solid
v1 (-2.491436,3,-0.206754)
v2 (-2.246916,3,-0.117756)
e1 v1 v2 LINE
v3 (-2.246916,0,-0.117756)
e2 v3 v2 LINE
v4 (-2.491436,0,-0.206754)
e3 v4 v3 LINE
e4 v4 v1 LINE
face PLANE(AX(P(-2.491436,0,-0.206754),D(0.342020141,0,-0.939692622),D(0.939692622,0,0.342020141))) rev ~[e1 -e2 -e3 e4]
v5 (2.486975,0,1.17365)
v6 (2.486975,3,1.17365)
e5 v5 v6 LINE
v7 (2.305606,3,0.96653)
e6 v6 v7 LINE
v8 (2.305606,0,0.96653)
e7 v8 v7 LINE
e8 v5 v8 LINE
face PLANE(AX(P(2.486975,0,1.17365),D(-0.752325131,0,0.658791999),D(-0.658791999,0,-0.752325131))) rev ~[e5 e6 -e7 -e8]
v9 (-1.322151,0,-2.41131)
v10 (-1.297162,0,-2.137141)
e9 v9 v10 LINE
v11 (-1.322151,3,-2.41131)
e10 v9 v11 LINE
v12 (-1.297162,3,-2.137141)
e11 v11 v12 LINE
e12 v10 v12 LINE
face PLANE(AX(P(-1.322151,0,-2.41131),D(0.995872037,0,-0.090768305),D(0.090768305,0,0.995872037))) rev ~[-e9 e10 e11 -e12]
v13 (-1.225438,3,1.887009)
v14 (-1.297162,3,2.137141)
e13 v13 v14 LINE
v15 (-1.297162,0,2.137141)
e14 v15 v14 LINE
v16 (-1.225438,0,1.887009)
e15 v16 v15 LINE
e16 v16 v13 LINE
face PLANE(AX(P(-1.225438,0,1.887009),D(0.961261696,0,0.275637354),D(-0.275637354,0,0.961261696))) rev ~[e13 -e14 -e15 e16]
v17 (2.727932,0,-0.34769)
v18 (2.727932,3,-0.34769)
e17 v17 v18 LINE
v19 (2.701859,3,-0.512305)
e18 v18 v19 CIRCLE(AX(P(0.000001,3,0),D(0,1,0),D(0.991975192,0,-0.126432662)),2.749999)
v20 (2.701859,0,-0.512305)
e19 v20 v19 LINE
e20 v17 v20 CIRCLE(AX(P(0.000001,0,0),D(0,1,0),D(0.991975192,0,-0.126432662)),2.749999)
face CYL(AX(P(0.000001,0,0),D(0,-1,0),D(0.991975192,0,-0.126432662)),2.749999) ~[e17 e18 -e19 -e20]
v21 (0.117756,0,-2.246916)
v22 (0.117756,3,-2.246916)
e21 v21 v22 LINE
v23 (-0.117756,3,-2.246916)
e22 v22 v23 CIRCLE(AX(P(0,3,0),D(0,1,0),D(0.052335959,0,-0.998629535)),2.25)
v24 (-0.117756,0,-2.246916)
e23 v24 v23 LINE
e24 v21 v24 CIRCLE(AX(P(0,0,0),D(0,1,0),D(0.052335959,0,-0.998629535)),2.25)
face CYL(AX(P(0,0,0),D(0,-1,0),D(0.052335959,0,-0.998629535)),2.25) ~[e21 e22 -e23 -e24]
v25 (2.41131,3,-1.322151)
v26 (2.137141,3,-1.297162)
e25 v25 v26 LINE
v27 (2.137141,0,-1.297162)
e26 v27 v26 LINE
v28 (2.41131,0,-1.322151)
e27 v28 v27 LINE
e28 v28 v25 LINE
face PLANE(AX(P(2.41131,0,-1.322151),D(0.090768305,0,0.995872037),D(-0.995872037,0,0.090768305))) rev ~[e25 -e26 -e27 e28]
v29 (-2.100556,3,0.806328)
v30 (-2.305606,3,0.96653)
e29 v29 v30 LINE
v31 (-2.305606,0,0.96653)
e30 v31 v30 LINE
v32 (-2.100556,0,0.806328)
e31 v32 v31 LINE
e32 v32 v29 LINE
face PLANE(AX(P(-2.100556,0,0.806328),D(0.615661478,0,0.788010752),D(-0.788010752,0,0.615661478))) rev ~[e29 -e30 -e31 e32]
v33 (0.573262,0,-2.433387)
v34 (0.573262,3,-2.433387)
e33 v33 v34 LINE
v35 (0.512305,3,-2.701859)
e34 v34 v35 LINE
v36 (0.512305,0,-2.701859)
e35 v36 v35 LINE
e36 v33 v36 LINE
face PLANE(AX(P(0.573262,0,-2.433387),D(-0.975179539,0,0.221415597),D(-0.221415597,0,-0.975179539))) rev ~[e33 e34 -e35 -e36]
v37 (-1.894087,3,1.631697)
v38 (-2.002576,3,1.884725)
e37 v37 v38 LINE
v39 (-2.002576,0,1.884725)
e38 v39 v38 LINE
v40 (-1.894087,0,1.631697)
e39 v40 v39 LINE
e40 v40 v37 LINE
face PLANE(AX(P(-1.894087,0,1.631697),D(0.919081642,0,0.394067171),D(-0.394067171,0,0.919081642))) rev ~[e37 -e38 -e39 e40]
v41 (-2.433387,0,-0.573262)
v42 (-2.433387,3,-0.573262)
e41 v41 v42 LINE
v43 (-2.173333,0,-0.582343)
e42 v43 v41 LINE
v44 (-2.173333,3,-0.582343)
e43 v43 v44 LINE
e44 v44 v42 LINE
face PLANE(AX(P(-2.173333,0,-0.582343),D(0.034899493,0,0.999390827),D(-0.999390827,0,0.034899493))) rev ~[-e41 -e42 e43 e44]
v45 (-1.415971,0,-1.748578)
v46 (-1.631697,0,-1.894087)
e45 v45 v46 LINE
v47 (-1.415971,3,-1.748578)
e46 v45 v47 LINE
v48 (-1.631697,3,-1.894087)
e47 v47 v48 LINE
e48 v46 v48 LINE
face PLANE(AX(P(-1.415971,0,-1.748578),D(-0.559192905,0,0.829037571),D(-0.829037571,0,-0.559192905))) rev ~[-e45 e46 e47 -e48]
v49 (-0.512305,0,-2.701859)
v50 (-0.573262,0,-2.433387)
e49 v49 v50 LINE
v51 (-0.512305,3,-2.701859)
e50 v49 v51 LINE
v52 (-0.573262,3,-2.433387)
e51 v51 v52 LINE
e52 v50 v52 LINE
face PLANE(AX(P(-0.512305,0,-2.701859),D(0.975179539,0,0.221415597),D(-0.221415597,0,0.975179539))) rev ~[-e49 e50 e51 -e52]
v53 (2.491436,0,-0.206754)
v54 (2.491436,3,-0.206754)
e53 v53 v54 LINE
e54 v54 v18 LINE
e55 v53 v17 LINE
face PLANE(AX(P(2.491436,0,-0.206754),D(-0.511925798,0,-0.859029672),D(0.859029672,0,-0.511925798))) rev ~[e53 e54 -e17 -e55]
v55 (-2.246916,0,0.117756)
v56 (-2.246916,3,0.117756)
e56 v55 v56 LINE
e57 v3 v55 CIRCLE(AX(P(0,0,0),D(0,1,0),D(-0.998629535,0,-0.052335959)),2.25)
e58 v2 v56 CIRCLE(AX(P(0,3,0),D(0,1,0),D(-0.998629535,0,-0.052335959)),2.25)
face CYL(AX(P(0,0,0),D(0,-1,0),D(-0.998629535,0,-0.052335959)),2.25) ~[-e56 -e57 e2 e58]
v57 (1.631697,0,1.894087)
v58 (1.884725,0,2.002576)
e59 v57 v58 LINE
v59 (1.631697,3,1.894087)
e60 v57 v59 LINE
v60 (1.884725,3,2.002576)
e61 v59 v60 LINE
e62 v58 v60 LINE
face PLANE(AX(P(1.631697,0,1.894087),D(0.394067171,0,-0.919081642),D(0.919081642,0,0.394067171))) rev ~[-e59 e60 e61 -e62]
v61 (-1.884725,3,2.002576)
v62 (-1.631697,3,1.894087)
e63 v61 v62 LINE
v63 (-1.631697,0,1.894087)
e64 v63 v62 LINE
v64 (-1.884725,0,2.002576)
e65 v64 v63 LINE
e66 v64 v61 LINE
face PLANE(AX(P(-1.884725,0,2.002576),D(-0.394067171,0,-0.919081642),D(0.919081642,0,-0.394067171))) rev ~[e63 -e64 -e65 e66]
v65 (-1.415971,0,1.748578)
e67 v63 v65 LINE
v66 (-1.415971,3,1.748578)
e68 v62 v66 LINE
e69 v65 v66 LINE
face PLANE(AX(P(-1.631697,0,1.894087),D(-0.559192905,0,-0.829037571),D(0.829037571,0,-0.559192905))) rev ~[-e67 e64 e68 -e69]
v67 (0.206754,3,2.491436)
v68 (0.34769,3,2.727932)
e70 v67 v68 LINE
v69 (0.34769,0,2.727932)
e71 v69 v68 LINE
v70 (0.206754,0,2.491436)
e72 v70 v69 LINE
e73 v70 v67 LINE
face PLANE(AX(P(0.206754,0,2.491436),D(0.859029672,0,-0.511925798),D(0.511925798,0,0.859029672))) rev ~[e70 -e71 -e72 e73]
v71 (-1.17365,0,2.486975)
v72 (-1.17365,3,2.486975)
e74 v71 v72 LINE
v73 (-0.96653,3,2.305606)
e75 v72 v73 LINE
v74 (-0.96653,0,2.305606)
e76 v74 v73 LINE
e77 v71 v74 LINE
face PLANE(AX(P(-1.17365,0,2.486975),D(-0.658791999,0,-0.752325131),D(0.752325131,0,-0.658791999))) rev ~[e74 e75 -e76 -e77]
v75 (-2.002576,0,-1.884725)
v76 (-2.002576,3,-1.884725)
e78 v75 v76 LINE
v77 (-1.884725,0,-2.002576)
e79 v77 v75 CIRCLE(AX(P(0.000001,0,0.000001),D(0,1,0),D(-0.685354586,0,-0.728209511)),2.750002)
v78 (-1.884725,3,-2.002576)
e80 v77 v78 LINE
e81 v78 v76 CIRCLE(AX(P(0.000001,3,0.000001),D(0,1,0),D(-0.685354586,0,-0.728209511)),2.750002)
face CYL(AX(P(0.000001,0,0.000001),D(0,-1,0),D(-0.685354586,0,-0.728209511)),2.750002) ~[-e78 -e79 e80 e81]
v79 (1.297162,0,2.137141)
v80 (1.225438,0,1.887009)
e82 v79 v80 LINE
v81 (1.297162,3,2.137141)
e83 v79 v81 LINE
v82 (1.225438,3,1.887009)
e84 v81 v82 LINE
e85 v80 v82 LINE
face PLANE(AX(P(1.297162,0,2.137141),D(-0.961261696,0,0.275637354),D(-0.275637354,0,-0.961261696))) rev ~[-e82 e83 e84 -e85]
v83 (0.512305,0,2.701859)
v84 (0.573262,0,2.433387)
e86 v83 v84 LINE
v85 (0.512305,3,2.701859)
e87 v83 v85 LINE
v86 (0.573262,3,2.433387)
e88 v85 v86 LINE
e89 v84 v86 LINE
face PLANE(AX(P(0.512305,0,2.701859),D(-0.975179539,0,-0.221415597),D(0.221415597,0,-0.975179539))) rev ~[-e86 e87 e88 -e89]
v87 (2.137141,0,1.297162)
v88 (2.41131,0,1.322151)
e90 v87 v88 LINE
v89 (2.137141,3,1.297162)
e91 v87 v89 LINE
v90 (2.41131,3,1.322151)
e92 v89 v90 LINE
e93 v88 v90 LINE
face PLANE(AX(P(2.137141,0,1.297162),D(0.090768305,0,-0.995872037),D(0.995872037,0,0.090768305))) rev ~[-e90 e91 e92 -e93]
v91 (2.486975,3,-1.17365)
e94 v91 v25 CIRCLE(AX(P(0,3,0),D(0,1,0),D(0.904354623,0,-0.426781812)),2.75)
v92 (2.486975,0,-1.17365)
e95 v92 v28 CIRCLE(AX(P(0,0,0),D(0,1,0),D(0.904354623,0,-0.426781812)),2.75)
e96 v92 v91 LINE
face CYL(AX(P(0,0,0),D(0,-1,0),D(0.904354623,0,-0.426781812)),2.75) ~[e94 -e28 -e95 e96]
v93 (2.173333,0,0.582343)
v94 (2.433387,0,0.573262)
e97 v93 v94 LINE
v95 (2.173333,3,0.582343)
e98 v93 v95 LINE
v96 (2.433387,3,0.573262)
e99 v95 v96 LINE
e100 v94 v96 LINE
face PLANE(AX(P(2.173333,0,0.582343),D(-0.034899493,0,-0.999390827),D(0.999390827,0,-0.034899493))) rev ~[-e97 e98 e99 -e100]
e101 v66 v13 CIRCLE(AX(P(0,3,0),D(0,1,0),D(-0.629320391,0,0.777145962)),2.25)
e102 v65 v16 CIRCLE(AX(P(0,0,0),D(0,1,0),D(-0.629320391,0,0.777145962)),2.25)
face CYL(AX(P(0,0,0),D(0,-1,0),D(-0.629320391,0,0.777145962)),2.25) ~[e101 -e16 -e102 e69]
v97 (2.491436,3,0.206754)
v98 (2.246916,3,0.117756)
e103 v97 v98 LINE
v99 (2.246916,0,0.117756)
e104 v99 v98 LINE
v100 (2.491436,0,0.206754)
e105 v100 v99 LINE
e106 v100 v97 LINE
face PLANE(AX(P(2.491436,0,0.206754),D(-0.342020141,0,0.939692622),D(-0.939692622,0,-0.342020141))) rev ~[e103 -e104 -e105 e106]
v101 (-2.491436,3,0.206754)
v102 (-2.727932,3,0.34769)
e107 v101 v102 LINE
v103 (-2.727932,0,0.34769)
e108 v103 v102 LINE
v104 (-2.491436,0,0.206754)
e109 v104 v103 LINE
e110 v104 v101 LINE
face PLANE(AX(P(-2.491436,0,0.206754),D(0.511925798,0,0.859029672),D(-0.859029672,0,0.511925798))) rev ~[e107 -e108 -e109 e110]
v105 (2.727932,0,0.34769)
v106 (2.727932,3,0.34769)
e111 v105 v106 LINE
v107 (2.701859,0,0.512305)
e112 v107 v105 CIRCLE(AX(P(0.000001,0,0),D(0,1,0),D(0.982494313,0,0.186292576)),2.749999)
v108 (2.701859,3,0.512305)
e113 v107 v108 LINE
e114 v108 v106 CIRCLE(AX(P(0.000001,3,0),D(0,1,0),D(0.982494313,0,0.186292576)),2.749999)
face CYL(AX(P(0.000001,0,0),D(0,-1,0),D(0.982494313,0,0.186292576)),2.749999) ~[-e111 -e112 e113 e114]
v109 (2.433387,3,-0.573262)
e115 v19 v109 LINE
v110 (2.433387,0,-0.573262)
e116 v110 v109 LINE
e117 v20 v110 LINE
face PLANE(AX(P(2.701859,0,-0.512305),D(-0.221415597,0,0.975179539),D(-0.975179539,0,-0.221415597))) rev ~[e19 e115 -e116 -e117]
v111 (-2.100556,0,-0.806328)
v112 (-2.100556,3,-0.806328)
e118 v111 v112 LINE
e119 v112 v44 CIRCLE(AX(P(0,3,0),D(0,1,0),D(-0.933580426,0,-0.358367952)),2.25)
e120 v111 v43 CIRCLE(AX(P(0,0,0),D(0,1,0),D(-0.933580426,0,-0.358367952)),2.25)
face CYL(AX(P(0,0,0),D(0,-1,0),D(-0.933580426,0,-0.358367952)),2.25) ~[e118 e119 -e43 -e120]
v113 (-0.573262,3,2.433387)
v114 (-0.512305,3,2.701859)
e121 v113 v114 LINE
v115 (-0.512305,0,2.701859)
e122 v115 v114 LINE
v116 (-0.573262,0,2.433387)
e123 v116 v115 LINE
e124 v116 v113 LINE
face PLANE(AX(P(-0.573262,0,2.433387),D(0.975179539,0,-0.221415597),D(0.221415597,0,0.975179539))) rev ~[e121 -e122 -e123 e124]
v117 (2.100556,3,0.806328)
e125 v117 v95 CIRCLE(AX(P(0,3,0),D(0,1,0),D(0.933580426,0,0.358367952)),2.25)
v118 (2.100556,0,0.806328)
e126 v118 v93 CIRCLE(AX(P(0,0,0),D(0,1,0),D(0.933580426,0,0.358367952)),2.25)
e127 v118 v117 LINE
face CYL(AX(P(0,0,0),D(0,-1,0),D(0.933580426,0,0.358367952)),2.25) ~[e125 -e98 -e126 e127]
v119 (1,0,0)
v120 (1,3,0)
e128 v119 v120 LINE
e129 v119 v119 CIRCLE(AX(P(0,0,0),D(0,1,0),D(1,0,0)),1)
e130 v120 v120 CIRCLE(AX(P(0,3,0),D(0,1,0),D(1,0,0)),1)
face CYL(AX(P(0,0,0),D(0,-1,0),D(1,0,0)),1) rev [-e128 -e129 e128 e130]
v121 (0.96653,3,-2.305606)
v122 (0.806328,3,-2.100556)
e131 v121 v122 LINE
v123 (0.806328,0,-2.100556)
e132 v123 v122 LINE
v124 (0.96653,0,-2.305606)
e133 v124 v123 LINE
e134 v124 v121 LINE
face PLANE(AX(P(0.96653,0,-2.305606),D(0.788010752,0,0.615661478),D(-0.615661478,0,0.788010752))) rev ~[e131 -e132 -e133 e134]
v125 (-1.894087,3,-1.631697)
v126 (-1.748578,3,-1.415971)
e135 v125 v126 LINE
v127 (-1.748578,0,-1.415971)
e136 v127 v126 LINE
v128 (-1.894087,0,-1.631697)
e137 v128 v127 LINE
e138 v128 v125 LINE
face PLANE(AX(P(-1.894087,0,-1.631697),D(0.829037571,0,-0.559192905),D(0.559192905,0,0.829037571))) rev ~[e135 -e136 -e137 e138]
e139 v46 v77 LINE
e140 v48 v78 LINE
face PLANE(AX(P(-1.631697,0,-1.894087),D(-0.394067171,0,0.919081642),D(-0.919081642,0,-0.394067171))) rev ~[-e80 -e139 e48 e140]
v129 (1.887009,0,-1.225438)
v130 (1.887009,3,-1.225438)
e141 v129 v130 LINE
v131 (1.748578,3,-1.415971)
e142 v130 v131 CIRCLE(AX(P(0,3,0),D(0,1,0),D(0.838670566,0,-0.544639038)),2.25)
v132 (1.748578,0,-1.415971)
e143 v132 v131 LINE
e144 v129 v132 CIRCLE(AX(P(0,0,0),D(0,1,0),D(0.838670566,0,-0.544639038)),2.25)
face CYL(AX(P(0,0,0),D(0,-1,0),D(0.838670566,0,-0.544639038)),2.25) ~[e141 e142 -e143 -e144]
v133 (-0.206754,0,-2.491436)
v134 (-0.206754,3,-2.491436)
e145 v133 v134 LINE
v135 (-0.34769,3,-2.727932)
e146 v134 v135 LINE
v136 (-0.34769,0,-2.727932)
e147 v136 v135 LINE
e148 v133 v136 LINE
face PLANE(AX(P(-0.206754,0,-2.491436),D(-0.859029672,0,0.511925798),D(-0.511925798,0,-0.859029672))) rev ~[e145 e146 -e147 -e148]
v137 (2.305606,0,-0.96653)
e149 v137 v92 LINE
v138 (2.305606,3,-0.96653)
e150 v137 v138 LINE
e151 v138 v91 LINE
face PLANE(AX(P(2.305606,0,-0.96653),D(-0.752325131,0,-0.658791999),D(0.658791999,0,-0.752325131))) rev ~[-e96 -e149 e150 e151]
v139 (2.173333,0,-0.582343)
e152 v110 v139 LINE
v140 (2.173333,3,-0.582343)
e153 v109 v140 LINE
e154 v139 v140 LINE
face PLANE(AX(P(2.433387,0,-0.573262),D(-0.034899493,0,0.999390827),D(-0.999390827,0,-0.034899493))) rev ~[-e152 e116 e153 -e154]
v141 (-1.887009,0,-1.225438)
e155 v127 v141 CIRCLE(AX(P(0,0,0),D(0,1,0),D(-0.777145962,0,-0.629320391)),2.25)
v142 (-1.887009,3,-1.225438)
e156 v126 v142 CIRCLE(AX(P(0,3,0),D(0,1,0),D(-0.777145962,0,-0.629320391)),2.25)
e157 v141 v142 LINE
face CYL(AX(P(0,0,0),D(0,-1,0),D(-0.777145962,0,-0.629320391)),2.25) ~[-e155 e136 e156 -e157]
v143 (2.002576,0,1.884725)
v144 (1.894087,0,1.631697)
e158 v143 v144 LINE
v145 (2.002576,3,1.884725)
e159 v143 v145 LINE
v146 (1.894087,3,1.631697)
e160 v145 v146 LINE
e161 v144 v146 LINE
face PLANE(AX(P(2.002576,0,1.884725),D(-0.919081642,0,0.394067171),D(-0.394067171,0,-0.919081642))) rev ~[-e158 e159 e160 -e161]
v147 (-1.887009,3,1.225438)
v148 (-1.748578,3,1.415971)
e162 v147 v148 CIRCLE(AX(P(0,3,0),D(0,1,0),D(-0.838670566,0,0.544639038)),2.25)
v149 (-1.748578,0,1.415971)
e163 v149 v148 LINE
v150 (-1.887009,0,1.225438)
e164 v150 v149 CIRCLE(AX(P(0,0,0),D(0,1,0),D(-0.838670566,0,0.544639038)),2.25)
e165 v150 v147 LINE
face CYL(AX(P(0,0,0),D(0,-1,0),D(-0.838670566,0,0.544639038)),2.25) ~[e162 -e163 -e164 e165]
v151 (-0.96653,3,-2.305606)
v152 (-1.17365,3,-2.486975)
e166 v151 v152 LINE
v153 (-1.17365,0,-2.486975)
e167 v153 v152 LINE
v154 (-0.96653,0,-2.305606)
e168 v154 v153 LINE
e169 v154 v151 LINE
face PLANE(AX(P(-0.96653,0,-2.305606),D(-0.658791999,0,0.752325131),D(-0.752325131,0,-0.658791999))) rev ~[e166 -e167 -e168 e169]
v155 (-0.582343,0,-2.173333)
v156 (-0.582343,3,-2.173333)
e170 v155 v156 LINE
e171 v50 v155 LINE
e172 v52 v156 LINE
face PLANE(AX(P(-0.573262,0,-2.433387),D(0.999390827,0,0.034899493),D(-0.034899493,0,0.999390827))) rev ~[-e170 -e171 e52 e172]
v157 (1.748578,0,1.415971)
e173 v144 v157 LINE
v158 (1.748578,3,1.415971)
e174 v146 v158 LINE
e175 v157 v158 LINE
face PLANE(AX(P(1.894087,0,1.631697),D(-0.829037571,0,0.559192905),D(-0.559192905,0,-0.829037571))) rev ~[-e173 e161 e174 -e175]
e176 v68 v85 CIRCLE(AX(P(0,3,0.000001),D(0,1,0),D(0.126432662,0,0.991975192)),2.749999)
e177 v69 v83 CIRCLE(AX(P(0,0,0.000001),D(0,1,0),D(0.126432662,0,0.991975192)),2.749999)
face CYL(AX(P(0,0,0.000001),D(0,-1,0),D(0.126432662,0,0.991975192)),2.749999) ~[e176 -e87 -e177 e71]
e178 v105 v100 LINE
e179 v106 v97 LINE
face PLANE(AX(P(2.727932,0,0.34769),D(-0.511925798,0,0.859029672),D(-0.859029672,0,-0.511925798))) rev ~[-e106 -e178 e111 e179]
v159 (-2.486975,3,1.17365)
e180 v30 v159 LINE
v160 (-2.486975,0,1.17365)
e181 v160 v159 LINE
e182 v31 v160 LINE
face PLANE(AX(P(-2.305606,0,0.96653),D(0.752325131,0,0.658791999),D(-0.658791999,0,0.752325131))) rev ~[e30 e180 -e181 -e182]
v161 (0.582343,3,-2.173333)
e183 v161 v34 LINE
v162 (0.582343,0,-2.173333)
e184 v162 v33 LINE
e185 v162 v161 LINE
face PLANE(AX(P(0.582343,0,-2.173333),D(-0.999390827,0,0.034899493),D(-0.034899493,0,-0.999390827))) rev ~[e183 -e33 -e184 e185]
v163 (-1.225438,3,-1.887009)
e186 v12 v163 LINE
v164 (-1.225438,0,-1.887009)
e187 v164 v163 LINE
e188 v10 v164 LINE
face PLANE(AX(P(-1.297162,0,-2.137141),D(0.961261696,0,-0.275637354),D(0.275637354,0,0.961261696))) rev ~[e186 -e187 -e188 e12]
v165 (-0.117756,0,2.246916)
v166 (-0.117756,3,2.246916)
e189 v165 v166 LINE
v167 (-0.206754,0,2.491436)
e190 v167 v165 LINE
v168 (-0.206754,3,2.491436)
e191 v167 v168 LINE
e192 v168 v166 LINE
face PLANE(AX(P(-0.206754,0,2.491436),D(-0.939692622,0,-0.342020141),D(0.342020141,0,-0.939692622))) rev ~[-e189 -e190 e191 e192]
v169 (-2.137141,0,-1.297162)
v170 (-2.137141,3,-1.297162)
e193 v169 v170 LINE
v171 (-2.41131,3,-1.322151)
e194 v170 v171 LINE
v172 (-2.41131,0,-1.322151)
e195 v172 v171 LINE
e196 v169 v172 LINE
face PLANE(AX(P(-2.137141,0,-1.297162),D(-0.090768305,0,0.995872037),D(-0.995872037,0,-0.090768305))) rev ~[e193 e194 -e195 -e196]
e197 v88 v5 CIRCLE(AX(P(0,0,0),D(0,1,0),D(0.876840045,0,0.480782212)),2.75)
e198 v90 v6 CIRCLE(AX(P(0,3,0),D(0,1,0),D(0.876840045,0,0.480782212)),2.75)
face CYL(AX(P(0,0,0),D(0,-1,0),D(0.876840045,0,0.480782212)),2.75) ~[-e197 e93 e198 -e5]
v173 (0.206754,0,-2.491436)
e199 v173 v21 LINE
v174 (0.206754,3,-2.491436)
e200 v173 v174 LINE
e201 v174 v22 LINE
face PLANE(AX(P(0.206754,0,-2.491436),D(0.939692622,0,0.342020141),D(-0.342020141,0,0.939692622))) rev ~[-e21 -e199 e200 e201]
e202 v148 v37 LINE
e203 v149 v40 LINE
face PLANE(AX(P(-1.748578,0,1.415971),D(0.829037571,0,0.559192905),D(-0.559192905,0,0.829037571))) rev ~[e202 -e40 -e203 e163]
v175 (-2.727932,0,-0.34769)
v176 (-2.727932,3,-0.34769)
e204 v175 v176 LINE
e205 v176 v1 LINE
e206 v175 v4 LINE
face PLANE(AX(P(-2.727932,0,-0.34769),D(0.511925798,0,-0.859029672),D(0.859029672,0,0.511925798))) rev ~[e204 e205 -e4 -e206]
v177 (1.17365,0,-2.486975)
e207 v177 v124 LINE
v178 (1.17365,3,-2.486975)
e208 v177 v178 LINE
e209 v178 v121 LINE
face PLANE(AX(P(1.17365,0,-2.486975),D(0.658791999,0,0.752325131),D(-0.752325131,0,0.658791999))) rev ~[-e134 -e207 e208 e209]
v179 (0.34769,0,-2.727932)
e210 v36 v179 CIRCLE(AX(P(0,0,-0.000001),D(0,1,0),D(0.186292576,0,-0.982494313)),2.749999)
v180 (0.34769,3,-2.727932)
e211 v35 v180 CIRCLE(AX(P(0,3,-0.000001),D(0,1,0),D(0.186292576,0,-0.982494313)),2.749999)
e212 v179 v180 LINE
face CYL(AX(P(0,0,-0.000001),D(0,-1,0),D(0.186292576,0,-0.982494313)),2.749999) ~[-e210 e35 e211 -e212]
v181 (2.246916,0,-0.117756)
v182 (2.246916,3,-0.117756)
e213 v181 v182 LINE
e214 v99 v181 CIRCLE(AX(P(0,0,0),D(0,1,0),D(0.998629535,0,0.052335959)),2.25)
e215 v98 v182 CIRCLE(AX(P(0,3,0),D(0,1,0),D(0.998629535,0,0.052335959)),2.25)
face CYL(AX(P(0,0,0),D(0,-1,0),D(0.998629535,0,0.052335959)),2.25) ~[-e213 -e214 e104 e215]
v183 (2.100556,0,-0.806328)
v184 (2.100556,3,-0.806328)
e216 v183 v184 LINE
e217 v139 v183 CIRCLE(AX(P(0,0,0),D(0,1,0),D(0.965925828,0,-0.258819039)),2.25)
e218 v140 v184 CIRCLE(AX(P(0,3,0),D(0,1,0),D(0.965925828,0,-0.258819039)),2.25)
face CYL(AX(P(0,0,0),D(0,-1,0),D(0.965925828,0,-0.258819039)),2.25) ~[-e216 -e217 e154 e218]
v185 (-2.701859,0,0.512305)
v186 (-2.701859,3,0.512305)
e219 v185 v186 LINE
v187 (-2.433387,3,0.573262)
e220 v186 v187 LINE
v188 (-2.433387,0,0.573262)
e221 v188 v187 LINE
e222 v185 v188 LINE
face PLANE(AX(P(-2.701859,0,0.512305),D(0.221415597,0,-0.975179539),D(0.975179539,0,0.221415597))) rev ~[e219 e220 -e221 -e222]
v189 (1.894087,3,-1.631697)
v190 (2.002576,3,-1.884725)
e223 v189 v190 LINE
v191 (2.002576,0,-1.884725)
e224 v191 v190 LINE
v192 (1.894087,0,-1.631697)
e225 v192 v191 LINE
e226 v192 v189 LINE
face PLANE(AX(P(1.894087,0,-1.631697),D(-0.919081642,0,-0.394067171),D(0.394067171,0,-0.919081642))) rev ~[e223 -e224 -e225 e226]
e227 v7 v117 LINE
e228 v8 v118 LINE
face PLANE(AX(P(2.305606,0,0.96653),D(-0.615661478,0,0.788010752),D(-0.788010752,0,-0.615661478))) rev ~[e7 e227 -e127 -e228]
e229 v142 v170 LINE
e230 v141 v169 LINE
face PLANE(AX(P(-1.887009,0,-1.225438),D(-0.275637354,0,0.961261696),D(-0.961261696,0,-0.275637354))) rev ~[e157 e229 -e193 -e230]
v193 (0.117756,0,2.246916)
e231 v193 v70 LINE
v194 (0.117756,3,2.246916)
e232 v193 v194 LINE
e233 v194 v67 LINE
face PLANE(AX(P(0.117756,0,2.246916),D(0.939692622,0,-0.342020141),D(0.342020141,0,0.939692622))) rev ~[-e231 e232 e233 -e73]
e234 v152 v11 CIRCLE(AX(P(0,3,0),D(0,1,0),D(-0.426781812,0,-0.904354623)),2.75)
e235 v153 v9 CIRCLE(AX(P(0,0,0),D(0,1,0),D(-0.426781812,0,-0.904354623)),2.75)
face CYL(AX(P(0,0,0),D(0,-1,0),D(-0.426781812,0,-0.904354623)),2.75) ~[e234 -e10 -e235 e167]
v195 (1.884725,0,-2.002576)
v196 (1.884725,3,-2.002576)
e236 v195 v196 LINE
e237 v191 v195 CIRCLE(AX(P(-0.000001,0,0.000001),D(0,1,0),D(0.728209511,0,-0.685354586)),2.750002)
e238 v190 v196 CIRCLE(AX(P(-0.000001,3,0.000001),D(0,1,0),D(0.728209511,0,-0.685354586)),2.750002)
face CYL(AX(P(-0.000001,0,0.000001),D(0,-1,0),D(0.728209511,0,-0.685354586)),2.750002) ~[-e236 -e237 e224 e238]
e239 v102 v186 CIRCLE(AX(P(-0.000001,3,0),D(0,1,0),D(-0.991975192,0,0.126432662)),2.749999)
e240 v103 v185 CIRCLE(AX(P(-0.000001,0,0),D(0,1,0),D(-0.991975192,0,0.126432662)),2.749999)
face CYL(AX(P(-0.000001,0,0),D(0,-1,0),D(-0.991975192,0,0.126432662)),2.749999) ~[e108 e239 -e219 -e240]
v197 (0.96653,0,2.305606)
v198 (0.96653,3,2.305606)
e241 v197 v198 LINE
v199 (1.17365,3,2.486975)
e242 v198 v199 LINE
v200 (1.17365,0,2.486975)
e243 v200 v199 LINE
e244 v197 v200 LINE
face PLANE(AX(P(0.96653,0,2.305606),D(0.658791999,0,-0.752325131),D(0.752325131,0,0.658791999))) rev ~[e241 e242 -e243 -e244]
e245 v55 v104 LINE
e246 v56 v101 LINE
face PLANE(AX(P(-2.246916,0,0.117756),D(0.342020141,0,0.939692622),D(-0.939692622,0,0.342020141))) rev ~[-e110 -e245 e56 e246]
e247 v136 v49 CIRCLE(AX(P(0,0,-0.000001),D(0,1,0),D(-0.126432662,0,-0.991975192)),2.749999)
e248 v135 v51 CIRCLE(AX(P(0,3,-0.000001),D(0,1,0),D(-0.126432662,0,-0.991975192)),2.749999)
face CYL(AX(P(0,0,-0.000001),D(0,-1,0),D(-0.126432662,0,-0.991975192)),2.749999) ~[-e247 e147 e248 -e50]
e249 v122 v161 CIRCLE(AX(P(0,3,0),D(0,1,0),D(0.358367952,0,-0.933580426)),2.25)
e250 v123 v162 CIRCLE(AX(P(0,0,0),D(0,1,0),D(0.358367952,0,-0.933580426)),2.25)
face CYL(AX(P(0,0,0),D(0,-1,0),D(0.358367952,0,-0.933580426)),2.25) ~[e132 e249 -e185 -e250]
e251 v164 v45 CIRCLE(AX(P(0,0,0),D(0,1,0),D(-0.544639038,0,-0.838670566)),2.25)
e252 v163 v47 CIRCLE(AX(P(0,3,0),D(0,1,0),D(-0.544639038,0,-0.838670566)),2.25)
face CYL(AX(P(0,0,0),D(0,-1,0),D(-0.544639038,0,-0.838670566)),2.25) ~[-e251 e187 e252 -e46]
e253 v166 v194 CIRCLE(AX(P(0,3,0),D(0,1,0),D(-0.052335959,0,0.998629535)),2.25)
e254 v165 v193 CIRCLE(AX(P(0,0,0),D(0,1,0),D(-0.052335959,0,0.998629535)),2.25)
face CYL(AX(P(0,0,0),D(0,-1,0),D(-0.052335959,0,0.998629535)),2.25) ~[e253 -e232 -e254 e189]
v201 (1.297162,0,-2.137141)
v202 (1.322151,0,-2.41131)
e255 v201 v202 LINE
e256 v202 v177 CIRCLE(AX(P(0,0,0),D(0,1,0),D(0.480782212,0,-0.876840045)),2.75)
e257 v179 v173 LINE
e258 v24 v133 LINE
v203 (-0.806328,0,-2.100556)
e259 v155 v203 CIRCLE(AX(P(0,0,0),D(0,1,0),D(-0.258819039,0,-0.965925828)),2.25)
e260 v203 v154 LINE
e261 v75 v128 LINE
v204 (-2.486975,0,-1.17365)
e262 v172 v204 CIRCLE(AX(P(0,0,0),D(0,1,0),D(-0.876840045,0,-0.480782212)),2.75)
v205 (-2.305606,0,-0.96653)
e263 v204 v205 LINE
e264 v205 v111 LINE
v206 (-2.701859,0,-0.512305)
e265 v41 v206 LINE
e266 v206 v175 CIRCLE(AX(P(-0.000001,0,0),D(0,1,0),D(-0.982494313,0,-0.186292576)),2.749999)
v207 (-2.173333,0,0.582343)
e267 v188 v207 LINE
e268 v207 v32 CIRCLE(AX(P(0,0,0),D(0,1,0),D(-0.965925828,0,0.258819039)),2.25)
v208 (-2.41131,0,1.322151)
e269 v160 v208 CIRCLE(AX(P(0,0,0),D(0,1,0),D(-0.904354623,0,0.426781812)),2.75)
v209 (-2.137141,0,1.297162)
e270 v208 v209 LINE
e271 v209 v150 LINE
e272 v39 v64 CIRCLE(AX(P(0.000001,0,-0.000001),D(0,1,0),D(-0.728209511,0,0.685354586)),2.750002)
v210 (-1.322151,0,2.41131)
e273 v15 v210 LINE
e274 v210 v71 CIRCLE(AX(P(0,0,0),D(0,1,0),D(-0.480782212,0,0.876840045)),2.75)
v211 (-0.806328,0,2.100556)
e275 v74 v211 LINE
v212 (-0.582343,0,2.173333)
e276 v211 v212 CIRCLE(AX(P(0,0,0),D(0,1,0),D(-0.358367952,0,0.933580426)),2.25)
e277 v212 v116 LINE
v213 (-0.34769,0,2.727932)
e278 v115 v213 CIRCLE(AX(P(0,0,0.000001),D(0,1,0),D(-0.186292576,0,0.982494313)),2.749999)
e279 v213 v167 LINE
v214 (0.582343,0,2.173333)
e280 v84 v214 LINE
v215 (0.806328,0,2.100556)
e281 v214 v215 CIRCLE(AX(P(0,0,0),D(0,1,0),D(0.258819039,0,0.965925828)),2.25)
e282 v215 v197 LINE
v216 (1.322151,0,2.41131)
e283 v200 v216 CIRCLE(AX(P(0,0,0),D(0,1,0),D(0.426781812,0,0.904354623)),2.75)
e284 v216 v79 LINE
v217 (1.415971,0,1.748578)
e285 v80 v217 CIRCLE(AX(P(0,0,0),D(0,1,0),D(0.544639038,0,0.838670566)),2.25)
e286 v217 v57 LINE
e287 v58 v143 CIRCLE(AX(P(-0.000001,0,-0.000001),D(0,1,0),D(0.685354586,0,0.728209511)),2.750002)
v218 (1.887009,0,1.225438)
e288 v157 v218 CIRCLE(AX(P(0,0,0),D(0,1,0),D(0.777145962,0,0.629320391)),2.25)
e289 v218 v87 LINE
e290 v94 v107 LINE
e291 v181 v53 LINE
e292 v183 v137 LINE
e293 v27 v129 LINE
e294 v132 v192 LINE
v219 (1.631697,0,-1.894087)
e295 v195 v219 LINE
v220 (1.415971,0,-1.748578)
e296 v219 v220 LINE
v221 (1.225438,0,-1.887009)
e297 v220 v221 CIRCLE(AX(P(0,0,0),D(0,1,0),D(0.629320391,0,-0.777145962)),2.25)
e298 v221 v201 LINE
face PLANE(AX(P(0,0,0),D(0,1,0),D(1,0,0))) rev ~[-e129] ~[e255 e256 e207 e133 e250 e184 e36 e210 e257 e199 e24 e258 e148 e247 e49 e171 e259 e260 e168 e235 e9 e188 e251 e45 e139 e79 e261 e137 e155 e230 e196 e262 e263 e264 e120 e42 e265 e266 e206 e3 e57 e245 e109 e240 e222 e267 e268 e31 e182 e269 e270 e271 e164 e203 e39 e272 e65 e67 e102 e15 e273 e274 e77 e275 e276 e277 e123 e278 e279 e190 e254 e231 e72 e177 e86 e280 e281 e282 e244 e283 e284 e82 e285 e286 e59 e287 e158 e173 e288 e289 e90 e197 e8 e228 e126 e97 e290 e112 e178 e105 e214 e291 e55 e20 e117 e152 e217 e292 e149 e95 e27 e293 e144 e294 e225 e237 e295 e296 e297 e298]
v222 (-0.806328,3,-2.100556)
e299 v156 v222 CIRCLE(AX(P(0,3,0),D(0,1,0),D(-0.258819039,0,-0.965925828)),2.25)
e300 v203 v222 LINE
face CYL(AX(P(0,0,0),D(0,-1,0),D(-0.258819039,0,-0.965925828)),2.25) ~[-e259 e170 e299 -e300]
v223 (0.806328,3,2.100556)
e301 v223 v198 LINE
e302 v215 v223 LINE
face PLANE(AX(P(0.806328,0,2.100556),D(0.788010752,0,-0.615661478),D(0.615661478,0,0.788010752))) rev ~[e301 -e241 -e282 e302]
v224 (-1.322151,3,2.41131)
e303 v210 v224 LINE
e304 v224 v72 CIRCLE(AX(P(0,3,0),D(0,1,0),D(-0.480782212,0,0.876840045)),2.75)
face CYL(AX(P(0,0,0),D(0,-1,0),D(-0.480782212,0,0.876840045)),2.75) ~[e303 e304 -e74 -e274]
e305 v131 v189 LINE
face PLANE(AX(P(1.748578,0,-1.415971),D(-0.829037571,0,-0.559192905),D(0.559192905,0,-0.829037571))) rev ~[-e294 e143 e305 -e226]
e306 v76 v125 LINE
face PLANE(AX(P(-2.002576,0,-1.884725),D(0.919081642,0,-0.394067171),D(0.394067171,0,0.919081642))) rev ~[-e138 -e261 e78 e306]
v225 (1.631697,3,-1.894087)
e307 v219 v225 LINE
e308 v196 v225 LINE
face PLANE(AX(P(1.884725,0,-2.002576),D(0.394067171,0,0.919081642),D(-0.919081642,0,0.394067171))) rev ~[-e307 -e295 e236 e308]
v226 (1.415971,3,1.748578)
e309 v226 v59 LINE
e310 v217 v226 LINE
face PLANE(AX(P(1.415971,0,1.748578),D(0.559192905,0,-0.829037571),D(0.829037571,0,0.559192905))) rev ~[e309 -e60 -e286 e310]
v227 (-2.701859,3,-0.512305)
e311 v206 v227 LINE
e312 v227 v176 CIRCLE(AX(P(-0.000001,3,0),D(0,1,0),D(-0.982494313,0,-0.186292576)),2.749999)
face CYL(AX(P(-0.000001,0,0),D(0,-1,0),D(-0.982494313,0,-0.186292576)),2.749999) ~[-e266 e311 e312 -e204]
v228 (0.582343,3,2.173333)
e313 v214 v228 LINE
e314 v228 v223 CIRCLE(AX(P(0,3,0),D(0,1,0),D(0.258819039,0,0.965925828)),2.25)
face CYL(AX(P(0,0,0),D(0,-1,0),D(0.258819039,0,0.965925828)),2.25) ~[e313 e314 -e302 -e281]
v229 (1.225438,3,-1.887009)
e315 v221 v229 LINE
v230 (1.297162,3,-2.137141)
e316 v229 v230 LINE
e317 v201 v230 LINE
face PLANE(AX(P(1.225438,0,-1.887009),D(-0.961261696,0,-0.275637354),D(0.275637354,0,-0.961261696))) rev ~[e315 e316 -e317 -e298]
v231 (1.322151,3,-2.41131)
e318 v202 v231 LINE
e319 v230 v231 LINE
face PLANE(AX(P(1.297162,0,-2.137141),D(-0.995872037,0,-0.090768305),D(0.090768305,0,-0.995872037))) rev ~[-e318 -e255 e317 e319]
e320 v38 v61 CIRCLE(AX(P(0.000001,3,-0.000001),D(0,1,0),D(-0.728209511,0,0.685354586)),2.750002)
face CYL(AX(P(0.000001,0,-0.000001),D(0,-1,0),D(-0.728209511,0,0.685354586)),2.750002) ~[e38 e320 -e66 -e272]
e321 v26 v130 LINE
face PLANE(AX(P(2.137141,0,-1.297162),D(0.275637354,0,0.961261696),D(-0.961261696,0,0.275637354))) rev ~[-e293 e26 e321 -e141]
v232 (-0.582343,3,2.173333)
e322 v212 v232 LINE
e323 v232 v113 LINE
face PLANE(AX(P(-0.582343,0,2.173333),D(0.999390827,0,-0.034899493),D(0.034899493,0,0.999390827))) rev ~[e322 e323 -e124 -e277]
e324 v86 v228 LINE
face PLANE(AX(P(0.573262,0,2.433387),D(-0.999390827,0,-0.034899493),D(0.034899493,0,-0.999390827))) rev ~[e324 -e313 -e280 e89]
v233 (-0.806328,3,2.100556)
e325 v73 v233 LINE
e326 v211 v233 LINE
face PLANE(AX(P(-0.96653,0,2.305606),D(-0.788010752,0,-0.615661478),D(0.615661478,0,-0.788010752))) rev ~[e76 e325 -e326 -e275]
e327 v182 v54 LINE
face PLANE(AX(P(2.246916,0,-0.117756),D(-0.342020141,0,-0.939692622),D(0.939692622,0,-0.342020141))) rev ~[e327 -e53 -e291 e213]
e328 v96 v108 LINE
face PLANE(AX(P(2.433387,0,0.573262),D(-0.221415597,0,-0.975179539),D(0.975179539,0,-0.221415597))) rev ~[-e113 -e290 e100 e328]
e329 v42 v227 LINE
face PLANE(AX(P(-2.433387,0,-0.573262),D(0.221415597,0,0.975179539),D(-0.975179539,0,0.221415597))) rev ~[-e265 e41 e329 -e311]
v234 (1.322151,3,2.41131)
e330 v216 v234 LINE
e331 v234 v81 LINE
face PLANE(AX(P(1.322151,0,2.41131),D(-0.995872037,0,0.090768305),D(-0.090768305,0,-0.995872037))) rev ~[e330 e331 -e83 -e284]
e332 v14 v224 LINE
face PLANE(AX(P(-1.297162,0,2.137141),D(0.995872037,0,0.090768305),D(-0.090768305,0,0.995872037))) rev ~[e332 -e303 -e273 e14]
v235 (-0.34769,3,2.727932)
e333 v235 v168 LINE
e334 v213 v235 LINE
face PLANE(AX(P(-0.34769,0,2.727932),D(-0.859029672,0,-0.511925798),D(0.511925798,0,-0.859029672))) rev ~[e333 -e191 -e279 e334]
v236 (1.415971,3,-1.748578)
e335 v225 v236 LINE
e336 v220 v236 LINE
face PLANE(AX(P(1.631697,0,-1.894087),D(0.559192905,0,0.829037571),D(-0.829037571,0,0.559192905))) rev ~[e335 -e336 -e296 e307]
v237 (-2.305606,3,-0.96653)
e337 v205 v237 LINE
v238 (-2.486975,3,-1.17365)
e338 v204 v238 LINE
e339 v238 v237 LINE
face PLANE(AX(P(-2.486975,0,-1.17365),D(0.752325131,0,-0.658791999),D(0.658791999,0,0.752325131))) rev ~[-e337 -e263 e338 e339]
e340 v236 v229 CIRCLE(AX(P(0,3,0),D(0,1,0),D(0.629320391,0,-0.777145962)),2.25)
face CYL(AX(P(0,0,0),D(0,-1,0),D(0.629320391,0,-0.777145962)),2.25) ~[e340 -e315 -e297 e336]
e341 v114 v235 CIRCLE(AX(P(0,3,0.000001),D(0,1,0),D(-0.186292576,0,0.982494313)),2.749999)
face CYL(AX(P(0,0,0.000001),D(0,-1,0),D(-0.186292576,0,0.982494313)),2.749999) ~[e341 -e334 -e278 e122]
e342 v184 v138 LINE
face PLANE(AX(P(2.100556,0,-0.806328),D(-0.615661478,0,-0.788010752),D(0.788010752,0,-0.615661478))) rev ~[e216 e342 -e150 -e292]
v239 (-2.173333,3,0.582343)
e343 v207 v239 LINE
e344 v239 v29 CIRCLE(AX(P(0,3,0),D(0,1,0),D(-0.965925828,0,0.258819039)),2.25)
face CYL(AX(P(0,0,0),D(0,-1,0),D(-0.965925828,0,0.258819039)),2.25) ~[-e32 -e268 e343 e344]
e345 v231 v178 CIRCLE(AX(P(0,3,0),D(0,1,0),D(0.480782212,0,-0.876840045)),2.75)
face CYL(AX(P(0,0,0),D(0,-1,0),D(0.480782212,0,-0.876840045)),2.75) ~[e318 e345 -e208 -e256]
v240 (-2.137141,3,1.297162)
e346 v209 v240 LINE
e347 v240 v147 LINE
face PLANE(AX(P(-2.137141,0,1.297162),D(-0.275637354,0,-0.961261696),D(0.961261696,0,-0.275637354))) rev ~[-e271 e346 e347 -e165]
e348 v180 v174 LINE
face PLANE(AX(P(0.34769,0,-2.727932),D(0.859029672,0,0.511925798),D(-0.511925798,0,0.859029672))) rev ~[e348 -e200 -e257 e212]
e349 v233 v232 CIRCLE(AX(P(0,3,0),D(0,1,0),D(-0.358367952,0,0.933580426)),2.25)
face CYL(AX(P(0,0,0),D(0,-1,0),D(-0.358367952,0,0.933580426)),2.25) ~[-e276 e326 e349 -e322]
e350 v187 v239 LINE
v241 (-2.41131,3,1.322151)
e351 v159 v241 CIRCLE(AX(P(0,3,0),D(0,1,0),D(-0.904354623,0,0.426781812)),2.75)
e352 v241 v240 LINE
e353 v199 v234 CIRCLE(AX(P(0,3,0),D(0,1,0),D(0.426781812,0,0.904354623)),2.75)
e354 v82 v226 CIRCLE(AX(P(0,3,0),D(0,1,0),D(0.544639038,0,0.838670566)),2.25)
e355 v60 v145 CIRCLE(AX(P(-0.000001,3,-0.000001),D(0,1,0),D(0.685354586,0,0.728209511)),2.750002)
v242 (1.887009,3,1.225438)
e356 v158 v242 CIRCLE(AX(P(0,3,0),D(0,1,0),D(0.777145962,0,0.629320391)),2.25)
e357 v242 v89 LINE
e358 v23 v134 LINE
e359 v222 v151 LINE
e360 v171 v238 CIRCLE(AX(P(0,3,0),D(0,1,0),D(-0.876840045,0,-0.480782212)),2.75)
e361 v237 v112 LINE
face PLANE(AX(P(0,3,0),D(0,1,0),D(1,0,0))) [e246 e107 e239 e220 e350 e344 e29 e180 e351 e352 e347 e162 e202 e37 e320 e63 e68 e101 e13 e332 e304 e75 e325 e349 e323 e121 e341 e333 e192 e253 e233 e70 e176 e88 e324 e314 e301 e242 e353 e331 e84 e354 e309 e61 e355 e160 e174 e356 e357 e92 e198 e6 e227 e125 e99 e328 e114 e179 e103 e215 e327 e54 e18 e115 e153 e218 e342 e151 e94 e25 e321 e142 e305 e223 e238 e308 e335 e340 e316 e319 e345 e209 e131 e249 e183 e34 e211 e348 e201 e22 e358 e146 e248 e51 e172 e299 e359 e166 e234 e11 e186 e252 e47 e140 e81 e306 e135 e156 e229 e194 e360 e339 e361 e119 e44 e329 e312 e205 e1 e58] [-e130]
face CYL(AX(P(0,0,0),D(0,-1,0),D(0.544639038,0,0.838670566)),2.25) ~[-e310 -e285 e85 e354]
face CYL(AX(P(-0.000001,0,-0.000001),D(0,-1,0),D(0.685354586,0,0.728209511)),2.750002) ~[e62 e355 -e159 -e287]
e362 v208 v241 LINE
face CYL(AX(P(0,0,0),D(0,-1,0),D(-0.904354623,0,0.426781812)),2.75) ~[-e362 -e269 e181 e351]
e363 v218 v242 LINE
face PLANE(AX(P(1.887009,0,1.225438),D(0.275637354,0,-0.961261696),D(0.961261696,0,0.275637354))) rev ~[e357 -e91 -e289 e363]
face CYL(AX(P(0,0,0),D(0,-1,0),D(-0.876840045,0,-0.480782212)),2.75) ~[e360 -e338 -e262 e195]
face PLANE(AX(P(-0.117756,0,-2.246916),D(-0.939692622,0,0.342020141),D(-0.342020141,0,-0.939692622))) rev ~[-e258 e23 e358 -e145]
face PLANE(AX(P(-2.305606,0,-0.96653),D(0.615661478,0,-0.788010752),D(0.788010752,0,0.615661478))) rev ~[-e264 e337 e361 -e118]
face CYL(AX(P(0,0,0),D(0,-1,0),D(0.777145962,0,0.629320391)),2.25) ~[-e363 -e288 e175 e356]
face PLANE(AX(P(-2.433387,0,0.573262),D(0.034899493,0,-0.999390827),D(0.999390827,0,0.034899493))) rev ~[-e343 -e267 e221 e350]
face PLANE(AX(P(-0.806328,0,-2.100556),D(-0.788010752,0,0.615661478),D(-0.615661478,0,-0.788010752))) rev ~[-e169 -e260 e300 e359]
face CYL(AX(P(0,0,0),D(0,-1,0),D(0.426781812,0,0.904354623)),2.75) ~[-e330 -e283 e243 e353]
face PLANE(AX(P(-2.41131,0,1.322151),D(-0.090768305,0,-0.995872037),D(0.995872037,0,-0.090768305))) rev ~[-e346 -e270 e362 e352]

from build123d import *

# Parameters (mm, degrees)
IZIM2_R                     = 1
Y_KSEKLIK_EKSTR_ZYON1_DEPTH = 3


with BuildPart() as part:
    # Çizim2 → Yükseklik-Ekstrüzyon1 (new body)
    with BuildSketch(Plane(origin=(0, 0, 0), x_dir=(1, 0, 0), z_dir=(0, 1, 0))):
        with BuildLine():
            Line((2.727931774, -0.347689854), (2.491435912, -0.206753706))
            Line((2.491435912, -0.206753706), (2.246916453, -0.117755902))
            ThreePointArc((2.246916453, -0.117755902), (2.25, 0), (2.246916453, 0.117755902))
            Line((2.246916453, 0.117755902), (2.491435912, 0.206753706))
            Line((2.491435912, 0.206753706), (2.727931774, 0.347689854))
            ThreePointArc((2.727931774, 0.347689854), (2.716142937, 0.430194779), (2.701859364, 0.512304577))
            Line((2.701859364, 0.512304577), (2.433386768, 0.573261578))
            Line((2.433386768, 0.573261578), (2.173333109, 0.582342851))
            ThreePointArc((2.173333109, 0.582342851), (2.139877162, 0.695288237), (2.10055596, 0.806327886))
            Line((2.10055596, 0.806327886), (2.30560595, 0.966530497))
            Line((2.30560595, 0.966530497), (2.486975217, 1.173649979))
            ThreePointArc((2.486975217, 1.173649979), (2.450267942, 1.248473874), (2.411310133, 1.322151066))
            Line((2.411310133, 1.322151066), (2.137140773, 1.297162024))
            Line((2.137140773, 1.297162024), (1.887008778, 1.225437829))
            ThreePointArc((1.887008778, 1.225437829), (1.820288237, 1.322516818), (1.748578413, 1.41597088))
            Line((1.748578413, 1.41597088), (1.894087214, 1.631696548))
            Line((1.894087214, 1.631696548), (2.002576197, 1.884725067))
            ThreePointArc((2.002576197, 1.884725067), (1.944543648, 1.944543648), (1.884725067, 2.002576197))
            Line((1.884725067, 2.002576197), (1.631696548, 1.894087214))
            Line((1.631696548, 1.894087214), (1.41597088, 1.748578413))
            ThreePointArc((1.41597088, 1.748578413), (1.322516818, 1.820288237), (1.225437829, 1.887008778))
            Line((1.225437829, 1.887008778), (1.297162024, 2.137140773))
            Line((1.297162024, 2.137140773), (1.322151066, 2.411310133))
            ThreePointArc((1.322151066, 2.411310133), (1.248473874, 2.450267942), (1.173649979, 2.486975217))
            Line((1.173649979, 2.486975217), (0.966530497, 2.30560595))
            Line((0.966530497, 2.30560595), (0.806327886, 2.10055596))
            ThreePointArc((0.806327886, 2.10055596), (0.695288237, 2.139877162), (0.582342851, 2.173333109))
            Line((0.582342851, 2.173333109), (0.573261578, 2.433386768))
            Line((0.573261578, 2.433386768), (0.512304577, 2.701859364))
            ThreePointArc((0.512304577, 2.701859364), (0.430194779, 2.716142937), (0.347689854, 2.727931774))
            Line((0.347689854, 2.727931774), (0.206753706, 2.491435912))
            Line((0.206753706, 2.491435912), (0.117755902, 2.246916453))
            ThreePointArc((0.117755902, 2.246916453), (0, 2.25), (-0.117755902, 2.246916453))
            Line((-0.117755902, 2.246916453), (-0.206753706, 2.491435912))
            Line((-0.206753706, 2.491435912), (-0.347689854, 2.727931774))
            ThreePointArc((-0.347689854, 2.727931774), (-0.430194779, 2.716142937), (-0.512304577, 2.701859364))
            Line((-0.512304577, 2.701859364), (-0.573261578, 2.433386768))
            Line((-0.573261578, 2.433386768), (-0.582342851, 2.173333109))
            ThreePointArc((-0.582342851, 2.173333109), (-0.695288237, 2.139877162), (-0.806327886, 2.10055596))
            Line((-0.806327886, 2.10055596), (-0.966530497, 2.30560595))
            Line((-0.966530497, 2.30560595), (-1.173649979, 2.486975217))
            ThreePointArc((-1.173649979, 2.486975217), (-1.248473874, 2.450267942), (-1.322151066, 2.411310133))
            Line((-1.322151066, 2.411310133), (-1.297162024, 2.137140773))
            Line((-1.297162024, 2.137140773), (-1.225437829, 1.887008778))
            ThreePointArc((-1.225437829, 1.887008778), (-1.322516818, 1.820288237), (-1.41597088, 1.748578413))
            Line((-1.41597088, 1.748578413), (-1.631696548, 1.894087214))
            Line((-1.631696548, 1.894087214), (-1.884725067, 2.002576197))
            ThreePointArc((-1.884725067, 2.002576197), (-1.944543648, 1.944543648), (-2.002576197, 1.884725067))
            Line((-2.002576197, 1.884725067), (-1.894087214, 1.631696548))
            Line((-1.894087214, 1.631696548), (-1.748578413, 1.41597088))
            ThreePointArc((-1.748578413, 1.41597088), (-1.820288237, 1.322516818), (-1.887008778, 1.225437829))
            Line((-1.887008778, 1.225437829), (-2.137140773, 1.297162024))
            Line((-2.137140773, 1.297162024), (-2.411310133, 1.322151066))
            ThreePointArc((-2.411310133, 1.322151066), (-2.450267942, 1.248473874), (-2.486975217, 1.173649979))
            Line((-2.486975217, 1.173649979), (-2.30560595, 0.966530497))
            Line((-2.30560595, 0.966530497), (-2.10055596, 0.806327886))
            ThreePointArc((-2.10055596, 0.806327886), (-2.139877162, 0.695288237), (-2.173333109, 0.582342851))
            Line((-2.173333109, 0.582342851), (-2.433386768, 0.573261578))
            Line((-2.433386768, 0.573261578), (-2.701859364, 0.512304577))
            ThreePointArc((-2.701859364, 0.512304577), (-2.716142937, 0.430194779), (-2.727931774, 0.347689854))
            Line((-2.727931774, 0.347689854), (-2.491435912, 0.206753706))
            Line((-2.491435912, 0.206753706), (-2.246916453, 0.117755902))
            ThreePointArc((-2.246916453, 0.117755902), (-2.25, 0), (-2.246916453, -0.117755902))
            Line((-2.246916453, -0.117755902), (-2.491435912, -0.206753706))
            Line((-2.491435912, -0.206753706), (-2.727931774, -0.347689854))
            ThreePointArc((-2.727931774, -0.347689854), (-2.716142937, -0.430194779), (-2.701859364, -0.512304577))
            Line((-2.701859364, -0.512304577), (-2.433386768, -0.573261578))
            Line((-2.433386768, -0.573261578), (-2.173333109, -0.582342851))
            ThreePointArc((-2.173333109, -0.582342851), (-2.139877162, -0.695288237), (-2.10055596, -0.806327886))
            Line((-2.10055596, -0.806327886), (-2.30560595, -0.966530497))
            Line((-2.30560595, -0.966530497), (-2.486975217, -1.173649979))
            ThreePointArc((-2.486975217, -1.173649979), (-2.450267942, -1.248473874), (-2.411310133, -1.322151066))
            Line((-2.411310133, -1.322151066), (-2.137140773, -1.297162024))
            Line((-2.137140773, -1.297162024), (-1.887008778, -1.225437829))
            ThreePointArc((-1.887008778, -1.225437829), (-1.820288237, -1.322516818), (-1.748578413, -1.41597088))
            Line((-1.748578413, -1.41597088), (-1.894087214, -1.631696548))
            Line((-1.894087214, -1.631696548), (-2.002576197, -1.884725067))
            ThreePointArc((-2.002576197, -1.884725067), (-1.944543648, -1.944543648), (-1.884725067, -2.002576197))
            Line((-1.884725067, -2.002576197), (-1.631696548, -1.894087214))
            Line((-1.631696548, -1.894087214), (-1.41597088, -1.748578413))
            ThreePointArc((-1.41597088, -1.748578413), (-1.322516818, -1.820288237), (-1.225437829, -1.887008778))
            Line((-1.225437829, -1.887008778), (-1.297162024, -2.137140773))
            Line((-1.297162024, -2.137140773), (-1.322151066, -2.411310133))
            ThreePointArc((-1.322151066, -2.411310133), (-1.248473874, -2.450267942), (-1.173649979, -2.486975217))
            Line((-1.173649979, -2.486975217), (-0.966530497, -2.30560595))
            Line((-0.966530497, -2.30560595), (-0.806327886, -2.10055596))
            ThreePointArc((-0.806327886, -2.10055596), (-0.695288237, -2.139877162), (-0.582342851, -2.173333109))
            Line((-0.582342851, -2.173333109), (-0.573261578, -2.433386768))
            Line((-0.573261578, -2.433386768), (-0.512304577, -2.701859364))
            ThreePointArc((-0.512304577, -2.701859364), (-0.430194779, -2.716142937), (-0.347689854, -2.727931774))
            Line((-0.347689854, -2.727931774), (-0.206753706, -2.491435912))
            Line((-0.206753706, -2.491435912), (-0.117755902, -2.246916453))
            ThreePointArc((-0.117755902, -2.246916453), (0, -2.25), (0.117755902, -2.246916453))
            Line((0.117755902, -2.246916453), (0.206753706, -2.491435912))
            Line((0.206753706, -2.491435912), (0.347689854, -2.727931774))
            ThreePointArc((0.347689854, -2.727931774), (0.430194779, -2.716142937), (0.512304577, -2.701859364))
            Line((0.512304577, -2.701859364), (0.573261578, -2.433386768))
            Line((0.573261578, -2.433386768), (0.582342851, -2.173333109))
            ThreePointArc((0.582342851, -2.173333109), (0.695288237, -2.139877162), (0.806327886, -2.10055596))
            Line((0.806327886, -2.10055596), (0.966530497, -2.30560595))
            Line((0.966530497, -2.30560595), (1.173649979, -2.486975217))
            ThreePointArc((1.173649979, -2.486975217), (1.248473874, -2.450267942), (1.322151066, -2.411310133))
            Line((1.322151066, -2.411310133), (1.297162024, -2.137140773))
            Line((1.297162024, -2.137140773), (1.225437829, -1.887008778))
            ThreePointArc((1.225437829, -1.887008778), (1.322516818, -1.820288237), (1.41597088, -1.748578413))
            Line((1.41597088, -1.748578413), (1.631696548, -1.894087214))
            Line((1.631696548, -1.894087214), (1.884725067, -2.002576197))
            ThreePointArc((1.884725067, -2.002576197), (1.944543648, -1.944543648), (2.002576197, -1.884725067))
            Line((2.002576197, -1.884725067), (1.894087214, -1.631696548))
            Line((1.894087214, -1.631696548), (1.748578413, -1.41597088))
            ThreePointArc((1.748578413, -1.41597088), (1.820288237, -1.322516818), (1.887008778, -1.225437829))
            Line((1.887008778, -1.225437829), (2.137140773, -1.297162024))
            Line((2.137140773, -1.297162024), (2.411310133, -1.322151066))
            ThreePointArc((2.411310133, -1.322151066), (2.450267942, -1.248473874), (2.486975217, -1.173649979))
            Line((2.486975217, -1.173649979), (2.30560595, -0.966530497))
            Line((2.30560595, -0.966530497), (2.10055596, -0.806327886))
            ThreePointArc((2.10055596, -0.806327886), (2.139877162, -0.695288237), (2.173333109, -0.582342851))
            Line((2.173333109, -0.582342851), (2.433386768, -0.573261578))
            Line((2.433386768, -0.573261578), (2.701859364, -0.512304577))
            ThreePointArc((2.701859364, -0.512304577), (2.716142937, -0.430194779), (2.727931774, -0.347689854))
        make_face()
        Circle(IZIM2_R, mode=Mode.SUBTRACT)
    extrude(amount=Y_KSEKLIK_EKSTR_ZYON1_DEPTH)


solid = part.part
